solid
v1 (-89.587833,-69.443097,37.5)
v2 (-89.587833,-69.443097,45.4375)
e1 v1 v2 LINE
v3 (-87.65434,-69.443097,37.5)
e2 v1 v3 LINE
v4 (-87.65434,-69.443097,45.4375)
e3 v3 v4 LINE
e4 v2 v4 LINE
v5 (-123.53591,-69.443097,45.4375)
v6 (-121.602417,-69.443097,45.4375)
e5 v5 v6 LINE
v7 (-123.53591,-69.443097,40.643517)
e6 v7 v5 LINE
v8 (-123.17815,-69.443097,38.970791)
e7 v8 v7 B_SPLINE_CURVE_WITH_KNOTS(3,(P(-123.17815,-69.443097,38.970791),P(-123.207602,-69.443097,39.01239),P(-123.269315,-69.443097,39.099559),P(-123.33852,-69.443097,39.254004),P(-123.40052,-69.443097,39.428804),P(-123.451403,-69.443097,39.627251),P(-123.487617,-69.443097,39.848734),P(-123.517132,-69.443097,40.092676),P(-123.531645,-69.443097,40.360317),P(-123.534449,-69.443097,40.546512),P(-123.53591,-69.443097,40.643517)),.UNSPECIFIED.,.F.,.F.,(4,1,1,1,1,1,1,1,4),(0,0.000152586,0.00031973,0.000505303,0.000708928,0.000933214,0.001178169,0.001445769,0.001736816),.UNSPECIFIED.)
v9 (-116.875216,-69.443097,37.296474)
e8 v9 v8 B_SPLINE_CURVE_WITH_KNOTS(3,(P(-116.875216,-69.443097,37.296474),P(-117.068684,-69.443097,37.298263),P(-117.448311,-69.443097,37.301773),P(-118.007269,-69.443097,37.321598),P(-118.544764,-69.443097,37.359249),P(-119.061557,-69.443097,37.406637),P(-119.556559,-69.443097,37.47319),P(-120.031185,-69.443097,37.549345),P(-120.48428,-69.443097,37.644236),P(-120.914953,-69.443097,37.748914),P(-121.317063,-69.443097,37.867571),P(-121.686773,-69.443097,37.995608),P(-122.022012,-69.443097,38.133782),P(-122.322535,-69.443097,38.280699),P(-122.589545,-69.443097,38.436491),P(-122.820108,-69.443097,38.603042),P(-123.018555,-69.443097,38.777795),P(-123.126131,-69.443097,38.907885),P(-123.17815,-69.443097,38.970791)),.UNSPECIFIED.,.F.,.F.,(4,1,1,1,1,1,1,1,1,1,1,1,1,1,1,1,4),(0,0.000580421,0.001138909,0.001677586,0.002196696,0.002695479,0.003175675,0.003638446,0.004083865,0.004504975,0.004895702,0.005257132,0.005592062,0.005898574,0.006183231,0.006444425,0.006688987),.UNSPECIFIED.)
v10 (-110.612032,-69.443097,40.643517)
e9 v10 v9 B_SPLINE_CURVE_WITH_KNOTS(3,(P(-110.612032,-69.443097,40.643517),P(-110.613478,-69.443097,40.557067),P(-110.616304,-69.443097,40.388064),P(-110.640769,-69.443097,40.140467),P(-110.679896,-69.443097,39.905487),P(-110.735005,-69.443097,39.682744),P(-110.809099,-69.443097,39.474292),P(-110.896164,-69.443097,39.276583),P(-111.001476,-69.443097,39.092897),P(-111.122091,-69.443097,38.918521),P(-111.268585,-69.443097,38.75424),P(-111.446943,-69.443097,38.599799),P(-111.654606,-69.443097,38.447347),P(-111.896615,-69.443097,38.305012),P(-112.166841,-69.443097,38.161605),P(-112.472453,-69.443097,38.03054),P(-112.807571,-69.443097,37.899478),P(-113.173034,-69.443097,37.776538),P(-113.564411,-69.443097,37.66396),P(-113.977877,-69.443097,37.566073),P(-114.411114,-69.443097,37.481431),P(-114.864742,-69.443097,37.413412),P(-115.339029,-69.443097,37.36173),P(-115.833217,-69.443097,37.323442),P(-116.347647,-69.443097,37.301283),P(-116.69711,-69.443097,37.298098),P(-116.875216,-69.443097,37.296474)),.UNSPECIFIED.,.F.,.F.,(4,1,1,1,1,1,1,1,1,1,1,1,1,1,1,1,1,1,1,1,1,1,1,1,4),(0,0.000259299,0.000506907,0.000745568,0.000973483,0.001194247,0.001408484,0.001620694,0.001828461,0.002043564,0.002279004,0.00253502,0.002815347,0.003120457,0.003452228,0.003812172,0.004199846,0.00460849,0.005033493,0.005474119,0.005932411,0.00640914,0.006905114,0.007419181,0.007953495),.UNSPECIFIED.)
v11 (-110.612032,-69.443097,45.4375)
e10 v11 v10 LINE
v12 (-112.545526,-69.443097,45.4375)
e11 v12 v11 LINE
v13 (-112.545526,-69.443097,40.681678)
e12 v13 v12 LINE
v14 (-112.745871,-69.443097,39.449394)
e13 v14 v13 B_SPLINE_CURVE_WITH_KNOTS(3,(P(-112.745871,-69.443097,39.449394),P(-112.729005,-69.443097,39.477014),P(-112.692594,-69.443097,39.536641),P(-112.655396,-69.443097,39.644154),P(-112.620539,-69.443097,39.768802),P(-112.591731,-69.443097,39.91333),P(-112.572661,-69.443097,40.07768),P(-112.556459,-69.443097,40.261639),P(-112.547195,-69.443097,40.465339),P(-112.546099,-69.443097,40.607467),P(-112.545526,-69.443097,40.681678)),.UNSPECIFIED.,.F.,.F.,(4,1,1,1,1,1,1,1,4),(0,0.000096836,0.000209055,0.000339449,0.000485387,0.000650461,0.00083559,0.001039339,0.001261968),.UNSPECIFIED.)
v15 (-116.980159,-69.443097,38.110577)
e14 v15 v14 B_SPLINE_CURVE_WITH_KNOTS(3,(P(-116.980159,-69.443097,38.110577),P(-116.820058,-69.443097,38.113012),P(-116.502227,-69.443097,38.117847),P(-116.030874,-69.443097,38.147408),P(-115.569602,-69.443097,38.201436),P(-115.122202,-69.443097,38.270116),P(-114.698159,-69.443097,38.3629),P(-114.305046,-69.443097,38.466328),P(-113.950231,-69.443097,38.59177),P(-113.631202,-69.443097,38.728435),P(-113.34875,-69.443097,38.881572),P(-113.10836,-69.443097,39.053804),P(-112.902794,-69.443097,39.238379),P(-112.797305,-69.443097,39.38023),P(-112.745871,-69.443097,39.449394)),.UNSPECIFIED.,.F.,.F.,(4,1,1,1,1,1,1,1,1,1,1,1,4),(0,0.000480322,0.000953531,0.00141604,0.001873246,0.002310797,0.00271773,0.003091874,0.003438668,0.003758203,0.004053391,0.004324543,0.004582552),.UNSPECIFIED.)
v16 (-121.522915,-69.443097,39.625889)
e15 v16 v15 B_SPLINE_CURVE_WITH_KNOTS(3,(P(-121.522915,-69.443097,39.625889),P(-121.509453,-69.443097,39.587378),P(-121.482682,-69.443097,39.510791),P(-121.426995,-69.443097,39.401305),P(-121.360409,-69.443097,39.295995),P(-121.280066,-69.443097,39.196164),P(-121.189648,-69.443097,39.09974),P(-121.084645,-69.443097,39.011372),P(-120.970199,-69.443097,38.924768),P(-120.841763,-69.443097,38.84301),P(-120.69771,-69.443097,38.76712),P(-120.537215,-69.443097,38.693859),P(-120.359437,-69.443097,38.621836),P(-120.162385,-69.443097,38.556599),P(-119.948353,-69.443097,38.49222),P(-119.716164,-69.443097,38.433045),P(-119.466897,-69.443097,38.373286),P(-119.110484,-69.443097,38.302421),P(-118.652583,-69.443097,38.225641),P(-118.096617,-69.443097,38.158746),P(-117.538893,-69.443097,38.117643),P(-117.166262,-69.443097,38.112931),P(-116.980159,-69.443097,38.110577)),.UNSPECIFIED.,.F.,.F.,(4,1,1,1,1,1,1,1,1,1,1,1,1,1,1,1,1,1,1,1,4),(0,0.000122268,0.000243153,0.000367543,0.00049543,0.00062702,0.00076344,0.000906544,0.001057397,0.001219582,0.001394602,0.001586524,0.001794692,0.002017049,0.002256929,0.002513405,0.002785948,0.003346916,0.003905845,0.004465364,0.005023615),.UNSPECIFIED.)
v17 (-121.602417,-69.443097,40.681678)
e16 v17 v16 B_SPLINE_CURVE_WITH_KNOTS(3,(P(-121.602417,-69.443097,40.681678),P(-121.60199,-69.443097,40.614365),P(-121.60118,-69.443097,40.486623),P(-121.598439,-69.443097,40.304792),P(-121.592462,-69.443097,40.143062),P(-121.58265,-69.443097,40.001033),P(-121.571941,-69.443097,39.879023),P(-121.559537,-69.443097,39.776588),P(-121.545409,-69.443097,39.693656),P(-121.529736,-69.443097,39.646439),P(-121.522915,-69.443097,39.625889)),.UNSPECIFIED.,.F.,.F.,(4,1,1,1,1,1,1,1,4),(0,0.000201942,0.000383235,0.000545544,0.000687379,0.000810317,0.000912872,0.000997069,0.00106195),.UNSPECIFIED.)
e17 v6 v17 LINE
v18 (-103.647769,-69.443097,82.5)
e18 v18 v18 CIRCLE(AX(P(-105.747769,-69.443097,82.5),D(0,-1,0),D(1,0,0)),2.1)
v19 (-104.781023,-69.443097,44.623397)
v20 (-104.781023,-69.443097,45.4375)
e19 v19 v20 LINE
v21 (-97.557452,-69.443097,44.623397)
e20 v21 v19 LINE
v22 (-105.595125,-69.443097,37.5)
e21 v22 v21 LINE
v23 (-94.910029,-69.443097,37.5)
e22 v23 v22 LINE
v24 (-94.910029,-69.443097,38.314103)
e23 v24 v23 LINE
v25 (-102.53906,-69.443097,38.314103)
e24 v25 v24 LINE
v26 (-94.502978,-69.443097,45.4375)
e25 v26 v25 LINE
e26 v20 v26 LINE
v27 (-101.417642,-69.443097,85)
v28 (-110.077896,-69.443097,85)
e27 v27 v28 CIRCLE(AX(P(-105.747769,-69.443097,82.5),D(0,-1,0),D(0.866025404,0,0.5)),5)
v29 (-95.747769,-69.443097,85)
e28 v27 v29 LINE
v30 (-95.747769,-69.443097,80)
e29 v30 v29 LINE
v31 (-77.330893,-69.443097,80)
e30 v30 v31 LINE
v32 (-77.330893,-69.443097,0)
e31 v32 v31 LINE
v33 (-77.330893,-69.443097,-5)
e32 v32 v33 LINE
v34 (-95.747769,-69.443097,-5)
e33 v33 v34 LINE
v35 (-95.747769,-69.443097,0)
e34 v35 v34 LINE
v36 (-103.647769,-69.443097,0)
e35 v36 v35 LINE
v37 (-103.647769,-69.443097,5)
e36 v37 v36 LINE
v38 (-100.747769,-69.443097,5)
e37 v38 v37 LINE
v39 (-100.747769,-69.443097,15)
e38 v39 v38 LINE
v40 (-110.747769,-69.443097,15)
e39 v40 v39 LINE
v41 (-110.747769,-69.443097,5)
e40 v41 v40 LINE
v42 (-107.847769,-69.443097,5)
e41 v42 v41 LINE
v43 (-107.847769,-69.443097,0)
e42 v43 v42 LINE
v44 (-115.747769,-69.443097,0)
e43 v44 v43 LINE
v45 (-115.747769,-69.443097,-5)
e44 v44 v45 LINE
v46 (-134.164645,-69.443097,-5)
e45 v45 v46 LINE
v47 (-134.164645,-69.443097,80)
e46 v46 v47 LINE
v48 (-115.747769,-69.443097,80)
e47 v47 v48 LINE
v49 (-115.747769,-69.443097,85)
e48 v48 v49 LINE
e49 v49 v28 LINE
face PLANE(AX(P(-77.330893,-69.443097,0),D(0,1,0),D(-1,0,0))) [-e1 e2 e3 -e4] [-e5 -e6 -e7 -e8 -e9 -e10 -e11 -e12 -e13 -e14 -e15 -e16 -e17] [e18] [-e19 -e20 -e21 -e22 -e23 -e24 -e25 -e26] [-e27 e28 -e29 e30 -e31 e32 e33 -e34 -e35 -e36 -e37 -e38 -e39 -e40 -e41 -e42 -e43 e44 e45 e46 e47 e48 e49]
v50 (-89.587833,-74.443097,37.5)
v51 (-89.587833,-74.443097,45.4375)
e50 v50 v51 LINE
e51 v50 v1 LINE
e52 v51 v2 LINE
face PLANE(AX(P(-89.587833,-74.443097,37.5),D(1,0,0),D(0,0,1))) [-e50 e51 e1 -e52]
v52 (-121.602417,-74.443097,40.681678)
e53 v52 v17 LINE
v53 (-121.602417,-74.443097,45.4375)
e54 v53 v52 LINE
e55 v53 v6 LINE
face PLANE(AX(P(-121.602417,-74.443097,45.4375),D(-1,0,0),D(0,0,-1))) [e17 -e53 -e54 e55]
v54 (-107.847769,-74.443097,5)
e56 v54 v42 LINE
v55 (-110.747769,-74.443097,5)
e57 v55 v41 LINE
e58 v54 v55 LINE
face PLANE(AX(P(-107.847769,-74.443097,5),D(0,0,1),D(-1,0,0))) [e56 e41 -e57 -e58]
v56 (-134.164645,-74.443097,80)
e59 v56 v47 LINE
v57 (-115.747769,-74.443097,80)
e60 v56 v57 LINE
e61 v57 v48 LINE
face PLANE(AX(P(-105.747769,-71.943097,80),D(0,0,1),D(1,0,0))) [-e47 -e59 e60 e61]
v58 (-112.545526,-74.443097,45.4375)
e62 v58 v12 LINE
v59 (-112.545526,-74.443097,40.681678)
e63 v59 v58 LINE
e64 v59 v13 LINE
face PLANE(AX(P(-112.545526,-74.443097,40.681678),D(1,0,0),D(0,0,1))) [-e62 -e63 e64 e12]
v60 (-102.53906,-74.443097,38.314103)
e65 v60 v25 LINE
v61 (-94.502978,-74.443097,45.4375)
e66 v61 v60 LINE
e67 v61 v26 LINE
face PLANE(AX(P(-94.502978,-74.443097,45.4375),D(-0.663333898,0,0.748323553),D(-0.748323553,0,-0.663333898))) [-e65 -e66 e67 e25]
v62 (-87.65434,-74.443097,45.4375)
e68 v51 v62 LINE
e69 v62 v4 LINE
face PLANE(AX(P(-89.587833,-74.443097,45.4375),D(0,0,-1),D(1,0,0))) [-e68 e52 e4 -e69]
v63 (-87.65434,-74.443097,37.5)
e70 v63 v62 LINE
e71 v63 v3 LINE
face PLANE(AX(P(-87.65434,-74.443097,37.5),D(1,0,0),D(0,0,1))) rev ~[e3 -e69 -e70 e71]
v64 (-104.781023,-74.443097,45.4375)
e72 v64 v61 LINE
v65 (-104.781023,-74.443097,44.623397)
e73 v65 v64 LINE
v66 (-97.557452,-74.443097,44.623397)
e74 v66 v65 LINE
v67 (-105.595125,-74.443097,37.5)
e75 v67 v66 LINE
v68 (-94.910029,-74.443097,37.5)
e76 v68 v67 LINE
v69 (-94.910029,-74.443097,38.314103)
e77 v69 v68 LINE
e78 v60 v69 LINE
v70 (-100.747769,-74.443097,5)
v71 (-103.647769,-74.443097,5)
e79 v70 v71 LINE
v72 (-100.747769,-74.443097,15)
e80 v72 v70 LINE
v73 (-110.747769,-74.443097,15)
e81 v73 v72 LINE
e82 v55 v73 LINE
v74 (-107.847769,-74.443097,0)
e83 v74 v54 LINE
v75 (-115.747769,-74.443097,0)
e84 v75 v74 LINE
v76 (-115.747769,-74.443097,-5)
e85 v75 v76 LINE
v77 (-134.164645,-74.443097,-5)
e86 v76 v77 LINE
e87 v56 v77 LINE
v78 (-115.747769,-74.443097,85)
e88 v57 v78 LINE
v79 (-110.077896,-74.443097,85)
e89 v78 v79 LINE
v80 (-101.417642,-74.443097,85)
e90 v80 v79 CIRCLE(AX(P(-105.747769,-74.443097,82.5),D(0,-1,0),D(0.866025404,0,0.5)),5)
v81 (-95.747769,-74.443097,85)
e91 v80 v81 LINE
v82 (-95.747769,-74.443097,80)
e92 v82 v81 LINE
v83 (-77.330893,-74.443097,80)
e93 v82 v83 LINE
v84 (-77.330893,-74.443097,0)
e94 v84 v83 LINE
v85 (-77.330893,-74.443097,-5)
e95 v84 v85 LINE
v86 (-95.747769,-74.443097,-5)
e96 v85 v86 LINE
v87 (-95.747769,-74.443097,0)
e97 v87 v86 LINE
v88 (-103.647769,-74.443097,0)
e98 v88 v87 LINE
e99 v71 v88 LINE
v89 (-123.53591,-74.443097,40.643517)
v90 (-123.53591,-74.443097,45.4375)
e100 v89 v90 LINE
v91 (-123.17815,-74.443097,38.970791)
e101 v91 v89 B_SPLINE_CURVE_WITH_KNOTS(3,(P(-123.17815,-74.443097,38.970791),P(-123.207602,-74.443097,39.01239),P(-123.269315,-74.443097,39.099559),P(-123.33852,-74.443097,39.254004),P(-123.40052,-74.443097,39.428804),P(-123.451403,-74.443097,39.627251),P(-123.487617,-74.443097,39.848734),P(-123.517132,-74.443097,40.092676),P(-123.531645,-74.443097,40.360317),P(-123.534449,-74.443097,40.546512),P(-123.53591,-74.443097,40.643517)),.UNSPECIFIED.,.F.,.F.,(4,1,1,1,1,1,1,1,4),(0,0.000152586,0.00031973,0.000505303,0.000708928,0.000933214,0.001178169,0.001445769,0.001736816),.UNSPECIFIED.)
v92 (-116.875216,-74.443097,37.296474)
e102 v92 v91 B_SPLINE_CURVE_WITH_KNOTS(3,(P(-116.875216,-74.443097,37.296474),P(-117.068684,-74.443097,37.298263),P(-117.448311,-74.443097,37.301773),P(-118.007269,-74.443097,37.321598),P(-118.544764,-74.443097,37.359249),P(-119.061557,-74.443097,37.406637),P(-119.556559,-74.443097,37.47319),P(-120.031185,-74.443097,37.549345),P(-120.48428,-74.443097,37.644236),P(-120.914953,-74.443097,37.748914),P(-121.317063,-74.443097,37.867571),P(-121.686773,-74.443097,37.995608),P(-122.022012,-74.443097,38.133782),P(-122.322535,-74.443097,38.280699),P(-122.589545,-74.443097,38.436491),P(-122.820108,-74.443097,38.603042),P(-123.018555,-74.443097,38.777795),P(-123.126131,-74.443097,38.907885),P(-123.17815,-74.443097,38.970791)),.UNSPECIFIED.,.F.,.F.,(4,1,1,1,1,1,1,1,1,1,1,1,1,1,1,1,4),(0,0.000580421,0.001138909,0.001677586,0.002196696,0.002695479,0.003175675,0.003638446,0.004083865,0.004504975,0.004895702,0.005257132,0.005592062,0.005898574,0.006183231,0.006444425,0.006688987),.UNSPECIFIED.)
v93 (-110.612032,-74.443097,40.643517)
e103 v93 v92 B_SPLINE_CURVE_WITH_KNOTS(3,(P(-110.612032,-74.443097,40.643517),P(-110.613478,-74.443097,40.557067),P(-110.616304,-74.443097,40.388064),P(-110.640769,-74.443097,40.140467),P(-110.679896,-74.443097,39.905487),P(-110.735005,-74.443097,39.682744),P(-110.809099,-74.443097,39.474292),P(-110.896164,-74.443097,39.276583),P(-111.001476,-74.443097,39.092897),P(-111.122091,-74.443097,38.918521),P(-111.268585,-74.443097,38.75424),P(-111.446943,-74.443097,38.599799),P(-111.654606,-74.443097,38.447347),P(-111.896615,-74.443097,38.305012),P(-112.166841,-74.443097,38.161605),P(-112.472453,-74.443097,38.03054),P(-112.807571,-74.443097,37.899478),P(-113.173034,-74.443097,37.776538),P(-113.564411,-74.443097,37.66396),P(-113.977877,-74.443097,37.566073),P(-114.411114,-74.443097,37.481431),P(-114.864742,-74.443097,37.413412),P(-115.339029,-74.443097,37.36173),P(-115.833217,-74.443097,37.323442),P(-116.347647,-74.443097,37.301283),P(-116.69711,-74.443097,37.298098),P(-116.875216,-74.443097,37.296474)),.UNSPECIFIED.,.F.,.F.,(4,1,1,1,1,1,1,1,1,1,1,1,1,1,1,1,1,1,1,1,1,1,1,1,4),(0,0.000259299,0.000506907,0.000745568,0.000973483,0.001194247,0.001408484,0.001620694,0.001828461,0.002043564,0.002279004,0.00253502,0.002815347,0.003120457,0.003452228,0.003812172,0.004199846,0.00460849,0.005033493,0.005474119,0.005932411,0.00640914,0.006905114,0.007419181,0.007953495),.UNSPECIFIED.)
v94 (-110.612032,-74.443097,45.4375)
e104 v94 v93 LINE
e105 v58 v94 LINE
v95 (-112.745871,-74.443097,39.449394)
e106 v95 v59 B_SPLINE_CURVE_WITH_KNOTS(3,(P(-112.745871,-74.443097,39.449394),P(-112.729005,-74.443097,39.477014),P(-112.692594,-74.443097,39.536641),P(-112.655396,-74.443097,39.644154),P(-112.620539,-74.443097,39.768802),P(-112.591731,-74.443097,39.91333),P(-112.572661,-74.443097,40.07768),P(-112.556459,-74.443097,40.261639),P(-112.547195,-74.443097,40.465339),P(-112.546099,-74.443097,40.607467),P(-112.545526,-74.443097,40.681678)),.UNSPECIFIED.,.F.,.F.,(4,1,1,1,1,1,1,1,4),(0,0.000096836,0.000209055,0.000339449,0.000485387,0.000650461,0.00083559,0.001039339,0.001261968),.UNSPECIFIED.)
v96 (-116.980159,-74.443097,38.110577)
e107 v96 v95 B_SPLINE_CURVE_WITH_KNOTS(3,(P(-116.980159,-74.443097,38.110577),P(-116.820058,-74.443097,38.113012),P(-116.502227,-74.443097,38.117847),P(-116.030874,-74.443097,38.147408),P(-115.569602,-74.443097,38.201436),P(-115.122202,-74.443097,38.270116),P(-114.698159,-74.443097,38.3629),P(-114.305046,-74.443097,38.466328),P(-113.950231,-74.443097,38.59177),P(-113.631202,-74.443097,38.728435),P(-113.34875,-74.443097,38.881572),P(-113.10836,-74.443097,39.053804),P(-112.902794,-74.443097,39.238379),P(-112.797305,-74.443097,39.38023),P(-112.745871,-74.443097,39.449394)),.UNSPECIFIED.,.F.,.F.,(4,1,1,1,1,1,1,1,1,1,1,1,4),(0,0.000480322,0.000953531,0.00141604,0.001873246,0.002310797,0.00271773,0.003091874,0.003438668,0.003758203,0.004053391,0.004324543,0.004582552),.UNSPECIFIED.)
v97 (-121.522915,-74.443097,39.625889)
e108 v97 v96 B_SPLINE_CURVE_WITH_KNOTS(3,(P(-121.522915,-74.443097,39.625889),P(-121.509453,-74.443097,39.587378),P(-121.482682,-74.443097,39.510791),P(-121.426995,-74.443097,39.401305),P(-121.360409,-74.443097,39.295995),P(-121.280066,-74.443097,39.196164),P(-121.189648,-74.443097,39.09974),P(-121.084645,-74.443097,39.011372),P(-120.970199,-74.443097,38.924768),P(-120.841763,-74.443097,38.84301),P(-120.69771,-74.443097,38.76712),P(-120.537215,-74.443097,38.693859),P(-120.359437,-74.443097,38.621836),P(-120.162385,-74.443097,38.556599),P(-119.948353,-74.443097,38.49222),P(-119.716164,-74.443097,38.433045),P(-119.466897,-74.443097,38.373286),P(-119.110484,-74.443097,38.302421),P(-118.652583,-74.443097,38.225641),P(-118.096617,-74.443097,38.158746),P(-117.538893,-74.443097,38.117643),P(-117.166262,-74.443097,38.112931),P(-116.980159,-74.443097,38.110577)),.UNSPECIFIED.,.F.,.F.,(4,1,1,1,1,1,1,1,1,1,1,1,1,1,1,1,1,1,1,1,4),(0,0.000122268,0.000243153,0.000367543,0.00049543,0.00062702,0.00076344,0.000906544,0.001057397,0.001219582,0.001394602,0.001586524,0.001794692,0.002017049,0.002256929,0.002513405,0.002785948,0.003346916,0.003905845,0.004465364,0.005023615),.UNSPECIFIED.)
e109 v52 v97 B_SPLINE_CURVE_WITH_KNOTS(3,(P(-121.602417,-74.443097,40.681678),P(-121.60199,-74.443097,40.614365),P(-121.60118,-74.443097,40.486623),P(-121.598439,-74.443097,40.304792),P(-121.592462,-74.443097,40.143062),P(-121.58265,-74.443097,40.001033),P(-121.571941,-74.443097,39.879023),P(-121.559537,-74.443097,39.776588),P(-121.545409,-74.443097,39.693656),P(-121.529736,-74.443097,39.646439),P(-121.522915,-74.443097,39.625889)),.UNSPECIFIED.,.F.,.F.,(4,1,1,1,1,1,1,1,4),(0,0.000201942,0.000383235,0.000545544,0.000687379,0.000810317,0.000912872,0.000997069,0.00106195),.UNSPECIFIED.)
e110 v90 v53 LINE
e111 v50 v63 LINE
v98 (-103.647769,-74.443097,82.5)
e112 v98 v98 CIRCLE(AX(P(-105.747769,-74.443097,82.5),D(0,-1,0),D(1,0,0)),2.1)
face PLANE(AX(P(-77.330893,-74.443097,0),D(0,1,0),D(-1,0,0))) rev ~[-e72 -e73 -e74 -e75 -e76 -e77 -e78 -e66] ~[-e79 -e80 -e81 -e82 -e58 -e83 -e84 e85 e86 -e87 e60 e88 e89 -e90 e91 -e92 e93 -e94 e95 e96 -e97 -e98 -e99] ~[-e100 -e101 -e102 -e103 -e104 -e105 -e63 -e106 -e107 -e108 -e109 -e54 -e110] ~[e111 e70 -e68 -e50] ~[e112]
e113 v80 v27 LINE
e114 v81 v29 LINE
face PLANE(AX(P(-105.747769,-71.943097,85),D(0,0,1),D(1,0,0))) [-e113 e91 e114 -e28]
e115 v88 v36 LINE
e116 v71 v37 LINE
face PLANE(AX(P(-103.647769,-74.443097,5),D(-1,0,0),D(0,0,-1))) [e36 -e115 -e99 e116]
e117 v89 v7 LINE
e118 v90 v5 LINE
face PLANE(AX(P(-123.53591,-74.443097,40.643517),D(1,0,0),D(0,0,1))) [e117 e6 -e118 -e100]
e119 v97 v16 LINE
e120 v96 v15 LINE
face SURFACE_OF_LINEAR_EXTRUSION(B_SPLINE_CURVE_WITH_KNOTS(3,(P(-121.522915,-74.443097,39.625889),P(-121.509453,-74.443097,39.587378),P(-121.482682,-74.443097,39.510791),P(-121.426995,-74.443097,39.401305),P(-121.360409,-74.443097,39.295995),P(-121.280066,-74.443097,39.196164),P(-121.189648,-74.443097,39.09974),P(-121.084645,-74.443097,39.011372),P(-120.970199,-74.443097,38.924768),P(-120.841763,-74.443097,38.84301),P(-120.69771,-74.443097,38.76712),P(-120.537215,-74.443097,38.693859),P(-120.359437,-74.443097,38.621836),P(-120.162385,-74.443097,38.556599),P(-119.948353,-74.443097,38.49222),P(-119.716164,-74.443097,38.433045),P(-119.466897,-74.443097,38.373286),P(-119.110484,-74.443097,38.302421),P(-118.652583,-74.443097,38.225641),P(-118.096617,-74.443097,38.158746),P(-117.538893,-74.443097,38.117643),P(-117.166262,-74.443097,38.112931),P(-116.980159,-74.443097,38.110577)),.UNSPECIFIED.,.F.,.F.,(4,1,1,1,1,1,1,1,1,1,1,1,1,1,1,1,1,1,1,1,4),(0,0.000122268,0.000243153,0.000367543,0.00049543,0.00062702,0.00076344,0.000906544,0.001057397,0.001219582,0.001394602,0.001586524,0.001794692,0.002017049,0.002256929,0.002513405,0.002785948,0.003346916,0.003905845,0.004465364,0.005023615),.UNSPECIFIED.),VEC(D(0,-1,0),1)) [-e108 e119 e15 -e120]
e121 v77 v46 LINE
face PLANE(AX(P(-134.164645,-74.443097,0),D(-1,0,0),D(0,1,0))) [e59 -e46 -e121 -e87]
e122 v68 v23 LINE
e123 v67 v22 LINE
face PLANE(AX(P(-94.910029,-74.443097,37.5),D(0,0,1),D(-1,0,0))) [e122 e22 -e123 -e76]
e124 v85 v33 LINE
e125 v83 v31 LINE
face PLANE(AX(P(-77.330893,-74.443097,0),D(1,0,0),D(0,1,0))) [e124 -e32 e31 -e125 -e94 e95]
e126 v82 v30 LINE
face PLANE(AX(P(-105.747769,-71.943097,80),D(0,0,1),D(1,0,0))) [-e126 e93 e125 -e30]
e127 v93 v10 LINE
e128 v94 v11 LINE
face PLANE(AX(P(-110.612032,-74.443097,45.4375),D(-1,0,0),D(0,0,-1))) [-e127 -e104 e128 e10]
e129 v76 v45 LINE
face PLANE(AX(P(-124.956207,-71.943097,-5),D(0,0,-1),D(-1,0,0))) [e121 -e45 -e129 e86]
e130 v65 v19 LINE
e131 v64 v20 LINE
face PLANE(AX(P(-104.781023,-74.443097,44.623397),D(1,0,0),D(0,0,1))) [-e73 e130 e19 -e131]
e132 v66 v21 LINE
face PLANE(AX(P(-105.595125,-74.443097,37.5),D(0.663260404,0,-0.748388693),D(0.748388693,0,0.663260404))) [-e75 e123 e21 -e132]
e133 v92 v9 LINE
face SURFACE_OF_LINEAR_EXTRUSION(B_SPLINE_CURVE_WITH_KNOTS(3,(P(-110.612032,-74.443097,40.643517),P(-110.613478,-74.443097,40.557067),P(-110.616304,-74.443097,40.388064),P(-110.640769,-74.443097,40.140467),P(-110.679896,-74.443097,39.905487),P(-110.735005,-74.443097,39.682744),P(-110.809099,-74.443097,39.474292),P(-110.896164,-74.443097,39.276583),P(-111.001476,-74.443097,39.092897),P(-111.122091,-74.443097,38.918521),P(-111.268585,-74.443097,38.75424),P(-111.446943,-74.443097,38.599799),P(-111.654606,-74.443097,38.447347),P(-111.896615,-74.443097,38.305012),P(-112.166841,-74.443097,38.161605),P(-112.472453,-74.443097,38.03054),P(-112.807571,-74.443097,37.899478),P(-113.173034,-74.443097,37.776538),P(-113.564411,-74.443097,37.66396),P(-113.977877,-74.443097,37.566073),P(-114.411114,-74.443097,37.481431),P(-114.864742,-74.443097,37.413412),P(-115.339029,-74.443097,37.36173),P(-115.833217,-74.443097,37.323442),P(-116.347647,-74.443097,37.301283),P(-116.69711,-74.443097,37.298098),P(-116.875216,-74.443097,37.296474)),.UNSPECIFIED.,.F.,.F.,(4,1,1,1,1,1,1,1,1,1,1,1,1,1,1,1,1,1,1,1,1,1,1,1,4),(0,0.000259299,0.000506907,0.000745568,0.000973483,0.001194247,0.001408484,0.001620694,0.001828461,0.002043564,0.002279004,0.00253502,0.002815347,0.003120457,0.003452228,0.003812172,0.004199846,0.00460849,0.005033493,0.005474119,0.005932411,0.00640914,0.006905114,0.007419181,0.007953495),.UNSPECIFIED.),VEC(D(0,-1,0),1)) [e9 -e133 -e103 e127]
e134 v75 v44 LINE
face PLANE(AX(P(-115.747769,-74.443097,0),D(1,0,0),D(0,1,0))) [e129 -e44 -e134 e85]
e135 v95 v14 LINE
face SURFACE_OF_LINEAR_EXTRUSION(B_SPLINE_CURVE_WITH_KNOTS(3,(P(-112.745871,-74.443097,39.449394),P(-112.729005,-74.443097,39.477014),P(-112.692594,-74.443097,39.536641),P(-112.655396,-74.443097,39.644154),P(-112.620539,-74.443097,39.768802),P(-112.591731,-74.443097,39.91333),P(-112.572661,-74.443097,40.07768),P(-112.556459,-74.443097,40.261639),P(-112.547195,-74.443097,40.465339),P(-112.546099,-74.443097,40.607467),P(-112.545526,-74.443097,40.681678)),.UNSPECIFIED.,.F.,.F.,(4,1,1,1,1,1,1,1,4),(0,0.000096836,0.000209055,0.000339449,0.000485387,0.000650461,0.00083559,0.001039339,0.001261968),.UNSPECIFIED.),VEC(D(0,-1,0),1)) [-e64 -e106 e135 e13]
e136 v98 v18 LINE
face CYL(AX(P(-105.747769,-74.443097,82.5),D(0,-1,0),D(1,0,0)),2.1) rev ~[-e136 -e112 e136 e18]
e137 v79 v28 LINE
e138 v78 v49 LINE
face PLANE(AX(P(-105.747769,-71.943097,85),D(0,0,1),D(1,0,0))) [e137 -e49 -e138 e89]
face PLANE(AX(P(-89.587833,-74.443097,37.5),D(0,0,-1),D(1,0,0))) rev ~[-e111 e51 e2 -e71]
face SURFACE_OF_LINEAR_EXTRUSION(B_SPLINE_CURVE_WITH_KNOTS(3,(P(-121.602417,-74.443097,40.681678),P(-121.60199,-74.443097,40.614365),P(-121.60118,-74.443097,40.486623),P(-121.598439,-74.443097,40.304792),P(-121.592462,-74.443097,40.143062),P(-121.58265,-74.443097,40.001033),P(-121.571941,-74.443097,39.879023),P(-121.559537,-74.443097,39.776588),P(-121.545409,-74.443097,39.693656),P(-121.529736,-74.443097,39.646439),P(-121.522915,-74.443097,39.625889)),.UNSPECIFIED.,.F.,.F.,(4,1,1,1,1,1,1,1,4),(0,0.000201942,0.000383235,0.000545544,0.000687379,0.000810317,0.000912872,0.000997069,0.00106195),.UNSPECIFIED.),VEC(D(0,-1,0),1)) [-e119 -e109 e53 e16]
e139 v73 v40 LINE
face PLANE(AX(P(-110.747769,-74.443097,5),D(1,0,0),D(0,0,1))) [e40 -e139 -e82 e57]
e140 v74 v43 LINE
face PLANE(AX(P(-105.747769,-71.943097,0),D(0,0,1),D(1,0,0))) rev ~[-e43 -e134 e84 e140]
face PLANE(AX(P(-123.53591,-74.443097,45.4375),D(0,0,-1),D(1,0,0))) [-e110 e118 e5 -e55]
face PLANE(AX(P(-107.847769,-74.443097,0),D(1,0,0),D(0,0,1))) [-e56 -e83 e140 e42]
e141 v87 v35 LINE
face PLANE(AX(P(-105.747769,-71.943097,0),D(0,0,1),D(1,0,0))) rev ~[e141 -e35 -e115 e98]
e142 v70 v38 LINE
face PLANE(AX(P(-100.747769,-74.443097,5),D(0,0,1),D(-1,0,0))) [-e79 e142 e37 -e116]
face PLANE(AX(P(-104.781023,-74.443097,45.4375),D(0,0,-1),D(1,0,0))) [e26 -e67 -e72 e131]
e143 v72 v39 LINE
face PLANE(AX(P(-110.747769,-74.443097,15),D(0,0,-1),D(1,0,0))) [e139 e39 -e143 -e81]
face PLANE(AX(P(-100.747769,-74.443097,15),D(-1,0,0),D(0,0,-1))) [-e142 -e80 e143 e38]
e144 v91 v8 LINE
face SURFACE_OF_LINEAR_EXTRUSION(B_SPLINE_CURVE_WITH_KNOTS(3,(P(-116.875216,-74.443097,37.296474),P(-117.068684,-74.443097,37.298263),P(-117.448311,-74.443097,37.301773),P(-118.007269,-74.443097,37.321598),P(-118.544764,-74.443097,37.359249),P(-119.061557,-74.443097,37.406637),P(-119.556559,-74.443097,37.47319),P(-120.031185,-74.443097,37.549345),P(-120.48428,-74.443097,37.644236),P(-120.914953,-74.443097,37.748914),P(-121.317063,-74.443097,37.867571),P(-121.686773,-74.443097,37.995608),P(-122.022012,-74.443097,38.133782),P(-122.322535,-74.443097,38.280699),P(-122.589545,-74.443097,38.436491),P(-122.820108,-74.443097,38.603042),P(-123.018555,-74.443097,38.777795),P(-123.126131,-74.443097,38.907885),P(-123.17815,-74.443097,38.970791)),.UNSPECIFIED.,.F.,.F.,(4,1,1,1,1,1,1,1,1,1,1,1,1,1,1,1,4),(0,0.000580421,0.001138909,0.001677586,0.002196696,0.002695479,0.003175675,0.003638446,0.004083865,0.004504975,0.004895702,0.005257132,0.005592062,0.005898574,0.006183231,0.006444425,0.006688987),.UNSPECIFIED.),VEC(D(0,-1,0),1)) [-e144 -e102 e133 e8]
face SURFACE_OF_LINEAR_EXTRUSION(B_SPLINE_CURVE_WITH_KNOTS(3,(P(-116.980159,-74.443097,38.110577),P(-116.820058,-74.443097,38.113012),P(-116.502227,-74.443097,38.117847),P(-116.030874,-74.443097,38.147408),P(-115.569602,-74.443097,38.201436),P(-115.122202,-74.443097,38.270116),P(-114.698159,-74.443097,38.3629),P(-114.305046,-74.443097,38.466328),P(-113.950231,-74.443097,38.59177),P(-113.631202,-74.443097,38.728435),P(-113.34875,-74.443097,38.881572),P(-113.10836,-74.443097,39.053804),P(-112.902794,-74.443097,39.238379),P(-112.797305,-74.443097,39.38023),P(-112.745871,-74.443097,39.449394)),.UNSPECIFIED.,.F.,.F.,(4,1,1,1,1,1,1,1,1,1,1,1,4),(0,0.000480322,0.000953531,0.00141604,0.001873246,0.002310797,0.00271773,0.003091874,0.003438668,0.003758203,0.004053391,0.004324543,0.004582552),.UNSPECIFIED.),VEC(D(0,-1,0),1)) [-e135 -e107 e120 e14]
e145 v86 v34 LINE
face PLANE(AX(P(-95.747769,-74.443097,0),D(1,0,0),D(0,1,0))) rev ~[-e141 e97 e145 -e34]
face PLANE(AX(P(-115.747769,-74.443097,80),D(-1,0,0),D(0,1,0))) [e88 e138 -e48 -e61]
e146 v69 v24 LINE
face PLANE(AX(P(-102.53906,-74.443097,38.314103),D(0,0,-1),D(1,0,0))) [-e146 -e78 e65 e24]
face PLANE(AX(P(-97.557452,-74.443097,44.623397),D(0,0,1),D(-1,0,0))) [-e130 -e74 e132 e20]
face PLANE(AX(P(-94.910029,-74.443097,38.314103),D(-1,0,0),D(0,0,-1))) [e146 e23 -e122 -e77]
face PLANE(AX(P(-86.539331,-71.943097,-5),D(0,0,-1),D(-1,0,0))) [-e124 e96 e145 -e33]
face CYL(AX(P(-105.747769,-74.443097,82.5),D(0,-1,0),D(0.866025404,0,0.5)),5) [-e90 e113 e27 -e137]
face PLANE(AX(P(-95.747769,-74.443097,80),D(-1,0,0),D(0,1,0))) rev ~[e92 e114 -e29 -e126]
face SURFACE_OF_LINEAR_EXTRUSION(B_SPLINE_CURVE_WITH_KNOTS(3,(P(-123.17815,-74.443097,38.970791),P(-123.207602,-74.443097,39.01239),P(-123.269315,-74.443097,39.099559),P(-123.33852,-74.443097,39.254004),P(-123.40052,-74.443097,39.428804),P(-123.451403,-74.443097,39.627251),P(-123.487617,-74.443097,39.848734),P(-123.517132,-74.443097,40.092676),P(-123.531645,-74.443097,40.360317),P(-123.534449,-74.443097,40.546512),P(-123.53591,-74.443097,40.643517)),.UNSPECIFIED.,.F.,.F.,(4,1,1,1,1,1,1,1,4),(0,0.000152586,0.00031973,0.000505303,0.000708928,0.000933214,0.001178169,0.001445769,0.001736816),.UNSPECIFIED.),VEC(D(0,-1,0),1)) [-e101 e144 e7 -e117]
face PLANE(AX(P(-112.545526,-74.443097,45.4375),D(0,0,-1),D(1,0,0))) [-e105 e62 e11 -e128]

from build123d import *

# Parameters (mm, degrees)
SKETCH1_W           = 56.833752097
SKETCH1_H           = 5
BOSS_EXTRUDE1_DEPTH = 80
SKETCH2_W           = 18.416876048
SKETCH2_H           = 5
SKETCH2_W_2         = 18.416876049
BOSS_EXTRUDE2_DEPTH = 5
SKETCH3_W           = 20
SKETCH3_H           = 5
BOSS_EXTRUDE3_DEPTH = 5
CUT_EXTRUDE1_DEPTH  = 5
BOSS_EXTRUDE4_DEPTH = 5
SKETCH6_R           = 2.1
CUT_EXTRUDE2_DEPTH  = 5
SKETCH8_W           = 1.93349359
SKETCH8_H           = 7.9375
CUT_EXTRUDE3_DEPTH  = 5


with BuildPart() as part:
    # Sketch1 → Boss-Extrude1 (new body)
    with BuildSketch(Plane.XY):
        with Locations((-105.747769379, -71.943096951)):
            Rectangle(SKETCH1_W, SKETCH1_H)
    extrude(amount=BOSS_EXTRUDE1_DEPTH)

    # Sketch2 → Boss-Extrude2 (add)
    with BuildSketch(Plane(origin=(0, 0, 0), x_dir=(-1, 0, 0), z_dir=(0, 0, -1))):
        with Locations((86.539331354, -71.943096951)):
            Rectangle(SKETCH2_W, SKETCH2_H)
        with Locations((124.956207403, -71.943096951)):
            Rectangle(SKETCH2_W_2, SKETCH2_H)
    extrude(amount=BOSS_EXTRUDE2_DEPTH)

    # Sketch3 → Boss-Extrude3 (add)
    with BuildSketch(Plane.XY.offset(80)):
        with Locations((-105.747769378, -71.943096951)):
            Rectangle(SKETCH3_W, SKETCH3_H)
    extrude(amount=BOSS_EXTRUDE3_DEPTH)

    # Sketch4 → Cut-Extrude1 (cut)
    with BuildSketch(Plane.XZ.offset(74.443096951)):
        Polygon((-107.847769378, 0), (-107.847769378, 5), (-110.747769378, 5), (-110.747769378, 15), (-100.747769378, 15), (-100.747769378, 5), (-103.647769378, 5), (-103.647769378, 0), align=None)
    extrude(amount=-CUT_EXTRUDE1_DEPTH, mode=Mode.SUBTRACT)

    # Sketch5 → Boss-Extrude4 (add)
    with BuildSketch(Plane.XZ.offset(74.443096951)):
        with BuildLine():
            Line((-110.077896397, 85), (-101.417642359, 85))
            ThreePointArc((-101.417642359, 85), (-105.747769378, 87.5), (-110.077896397, 85))
        make_face()
    extrude(amount=-BOSS_EXTRUDE4_DEPTH)

    # Sketch6 → Cut-Extrude2 (cut)
    with BuildSketch(Plane.XZ.offset(74.443096951)):
        with Locations((-105.747769378, 82.5)):
            Circle(SKETCH6_R)
    extrude(amount=-CUT_EXTRUDE2_DEPTH, mode=Mode.SUBTRACT)

    # Sketch8 → Cut-Extrude3 (cut)
    with BuildSketch(Plane.XZ.offset(74.443096951)):
        with BuildLine():
            Line((-123.535910404, 45.4375), (-121.602416814, 45.4375))
            Line((-121.602416814, 45.4375), (-121.602416814, 40.681678185))
            add(Edge.make_bspline(
                [(-121.602416814, 40.681678185), (-121.601990048, 40.614365441), (-121.601180152, 40.486622809), (-121.598439266, 40.304791606), (-121.592462111, 40.143061597), (-121.582649953, 40.001032923), (-121.57194051, 39.879023265), (-121.55953718, 39.776587793), (-121.545409362, 39.693656046), (-121.529735909, 39.646438596), (-121.522914611, 39.625888922)],
                knots=[0, 0, 0, 0, 0.000201942, 0.000383235, 0.000545544, 0.000687379, 0.000810317, 0.000912872, 0.000997069, 0.00106195, 0.00106195, 0.00106195, 0.00106195], degree=3))
            add(Edge.make_bspline(
                [(-121.522914611, 39.625888922), (-121.509452841, 39.587377666), (-121.482681561, 39.510790729), (-121.426995401, 39.4013048), (-121.360408578, 39.295994704), (-121.28006619, 39.19616361), (-121.189648325, 39.099739524), (-121.084644905, 39.011371702), (-120.970198973, 38.924768446), (-120.841762659, 38.843010088), (-120.697710316, 38.767120374), (-120.537215044, 38.693859228), (-120.359436668, 38.621836124), (-120.162385483, 38.55659879), (-119.948353328, 38.492219896), (-119.716163536, 38.433044528), (-119.466897465, 38.373285603), (-119.110484454, 38.302421294), (-118.652583447, 38.225640947), (-118.096617037, 38.158746344), (-117.538892715, 38.117643369), (-117.166262368, 38.112930622), (-116.980158701, 38.110576923)],
                knots=[0, 0, 0, 0, 0.000122268, 0.000243153, 0.000367543, 0.00049543, 0.00062702, 0.00076344, 0.000906544, 0.001057397, 0.001219582, 0.001394602, 0.001586524, 0.001794692, 0.002017049, 0.002256929, 0.002513405, 0.002785948, 0.003346916, 0.003905845, 0.004465364, 0.005023615, 0.005023615, 0.005023615, 0.005023615], degree=3))
            add(Edge.make_bspline(
                [(-116.980158701, 38.110576923), (-116.820057773, 38.113012249), (-116.502227103, 38.117846831), (-116.03087379, 38.147408488), (-115.569601956, 38.201435841), (-115.122201733, 38.270116147), (-114.698159331, 38.362899945), (-114.30504593, 38.466328223), (-113.950231341, 38.591770142), (-113.631201908, 38.728435362), (-113.34875012, 38.881571653), (-113.10835998, 39.053804153), (-112.902793753, 39.238379234), (-112.797305407, 39.38023024), (-112.745871341, 39.44939403)],
                knots=[0, 0, 0, 0, 0.000480322, 0.000953531, 0.00141604, 0.001873246, 0.002310797, 0.00271773, 0.003091874, 0.003438668, 0.003758203, 0.004053391, 0.004324543, 0.004582552, 0.004582552, 0.004582552, 0.004582552], degree=3))
            add(Edge.make_bspline(
                [(-112.745871341, 39.44939403), (-112.729005179, 39.477013683), (-112.692593547, 39.536640564), (-112.655395728, 39.644154214), (-112.620539489, 39.768801799), (-112.591731131, 39.913330101), (-112.572660575, 40.077680361), (-112.556459045, 40.261639349), (-112.547195392, 40.4653388), (-112.546098513, 40.607467269), (-112.545525789, 40.681678185)],
                knots=[0, 0, 0, 0, 9.6836e-05, 0.000209055, 0.000339449, 0.000485387, 0.000650461, 0.00083559, 0.001039339, 0.001261968, 0.001261968, 0.001261968, 0.001261968], degree=3))
            Line((-112.545525789, 40.681678185), (-112.545525789, 45.4375))
            Line((-112.545525789, 45.4375), (-110.612032199, 45.4375))
            Line((-110.612032199, 45.4375), (-110.612032199, 40.643517127))
            add(Edge.make_bspline(
                [(-110.612032199, 40.643517127), (-110.613477985, 40.557066925), (-110.616304371, 40.388064256), (-110.640769365, 40.140467174), (-110.679895535, 39.905487365), (-110.735004886, 39.682744005), (-110.809098914, 39.474292467), (-110.896164276, 39.27658251), (-111.0014758, 39.092896663), (-111.122090727, 38.918520772), (-111.268585123, 38.754239806), (-111.446943017, 38.599798583), (-111.654606494, 38.447346515), (-111.896614725, 38.305011699), (-112.166840551, 38.161605162), (-112.472452702, 38.030539583), (-112.807571473, 37.899478019), (-113.173034335, 37.776537822), (-113.564411059, 37.663960183), (-113.977877444, 37.566073163), (-114.411114346, 37.481431072), (-114.864742005, 37.413412032), (-115.339029089, 37.361729677), (-115.833216674, 37.323441827), (-116.347647026, 37.301283236), (-116.697109796, 37.298097825), (-116.875215793, 37.296474359)],
                knots=[0, 0, 0, 0, 0.000259299, 0.000506907, 0.000745568, 0.000973483, 0.001194247, 0.001408484, 0.001620694, 0.001828461, 0.002043564, 0.002279004, 0.00253502, 0.002815347, 0.003120457, 0.003452228, 0.003812172, 0.004199846, 0.00460849, 0.005033493, 0.005474119, 0.005932411, 0.00640914, 0.006905114, 0.007419181, 0.007953495, 0.007953495, 0.007953495, 0.007953495], degree=3))
            add(Edge.make_bspline(
                [(-116.875215793, 37.296474359), (-117.06868425, 37.298263057), (-117.448310552, 37.301772862), (-118.007268603, 37.321598277), (-118.54476417, 37.359249175), (-119.061557452, 37.406637359), (-119.556559089, 37.473190008), (-120.031185303, 37.549344646), (-120.484280367, 37.644235623), (-120.914952743, 37.748913991), (-121.317062778, 37.867570667), (-121.686773306, 37.99560829), (-122.022012304, 38.133781626), (-122.322535304, 38.280698867), (-122.589545148, 38.436491218), (-122.820107968, 38.603041936), (-123.018555474, 38.777795338), (-123.126131339, 38.907884929), (-123.178150488, 38.970790765)],
                knots=[0, 0, 0, 0, 0.000580421, 0.001138909, 0.001677586, 0.002196696, 0.002695479, 0.003175675, 0.003638446, 0.004083865, 0.004504975, 0.004895702, 0.005257132, 0.005592062, 0.005898574, 0.006183231, 0.006444425, 0.006688987, 0.006688987, 0.006688987, 0.006688987], degree=3))
            add(Edge.make_bspline(
                [(-123.178150488, 38.970790765), (-123.207601979, 39.012390462), (-123.269314795, 39.099558693), (-123.338519525, 39.254004353), (-123.400520367, 39.428804251), (-123.451403362, 39.627250965), (-123.487616881, 39.848734436), (-123.517131787, 40.092676277), (-123.531645378, 40.360316763), (-123.534449497, 40.546512034), (-123.535910404, 40.643517127)],
                knots=[0, 0, 0, 0, 0.000152586, 0.00031973, 0.000505303, 0.000708928, 0.000933214, 0.001178169, 0.001445769, 0.001736816, 0.001736816, 0.001736816, 0.001736816], degree=3))
            Line((-123.535910404, 40.643517127), (-123.535910404, 45.4375))
        make_face()
        Polygon((-104.781022583, 44.623397436), (-104.781022583, 45.4375), (-94.502977712, 45.4375), (-102.539060444, 38.314102564), (-94.910028994, 38.314102564), (-94.910028994, 37.5), (-105.595125148, 37.5), (-97.557452371, 44.623397436), align=None)
        with Locations((-88.621086686, 41.46875)):
            Rectangle(SKETCH8_W, SKETCH8_H)
    extrude(amount=-CUT_EXTRUDE3_DEPTH, mode=Mode.SUBTRACT)


solid = part.part
